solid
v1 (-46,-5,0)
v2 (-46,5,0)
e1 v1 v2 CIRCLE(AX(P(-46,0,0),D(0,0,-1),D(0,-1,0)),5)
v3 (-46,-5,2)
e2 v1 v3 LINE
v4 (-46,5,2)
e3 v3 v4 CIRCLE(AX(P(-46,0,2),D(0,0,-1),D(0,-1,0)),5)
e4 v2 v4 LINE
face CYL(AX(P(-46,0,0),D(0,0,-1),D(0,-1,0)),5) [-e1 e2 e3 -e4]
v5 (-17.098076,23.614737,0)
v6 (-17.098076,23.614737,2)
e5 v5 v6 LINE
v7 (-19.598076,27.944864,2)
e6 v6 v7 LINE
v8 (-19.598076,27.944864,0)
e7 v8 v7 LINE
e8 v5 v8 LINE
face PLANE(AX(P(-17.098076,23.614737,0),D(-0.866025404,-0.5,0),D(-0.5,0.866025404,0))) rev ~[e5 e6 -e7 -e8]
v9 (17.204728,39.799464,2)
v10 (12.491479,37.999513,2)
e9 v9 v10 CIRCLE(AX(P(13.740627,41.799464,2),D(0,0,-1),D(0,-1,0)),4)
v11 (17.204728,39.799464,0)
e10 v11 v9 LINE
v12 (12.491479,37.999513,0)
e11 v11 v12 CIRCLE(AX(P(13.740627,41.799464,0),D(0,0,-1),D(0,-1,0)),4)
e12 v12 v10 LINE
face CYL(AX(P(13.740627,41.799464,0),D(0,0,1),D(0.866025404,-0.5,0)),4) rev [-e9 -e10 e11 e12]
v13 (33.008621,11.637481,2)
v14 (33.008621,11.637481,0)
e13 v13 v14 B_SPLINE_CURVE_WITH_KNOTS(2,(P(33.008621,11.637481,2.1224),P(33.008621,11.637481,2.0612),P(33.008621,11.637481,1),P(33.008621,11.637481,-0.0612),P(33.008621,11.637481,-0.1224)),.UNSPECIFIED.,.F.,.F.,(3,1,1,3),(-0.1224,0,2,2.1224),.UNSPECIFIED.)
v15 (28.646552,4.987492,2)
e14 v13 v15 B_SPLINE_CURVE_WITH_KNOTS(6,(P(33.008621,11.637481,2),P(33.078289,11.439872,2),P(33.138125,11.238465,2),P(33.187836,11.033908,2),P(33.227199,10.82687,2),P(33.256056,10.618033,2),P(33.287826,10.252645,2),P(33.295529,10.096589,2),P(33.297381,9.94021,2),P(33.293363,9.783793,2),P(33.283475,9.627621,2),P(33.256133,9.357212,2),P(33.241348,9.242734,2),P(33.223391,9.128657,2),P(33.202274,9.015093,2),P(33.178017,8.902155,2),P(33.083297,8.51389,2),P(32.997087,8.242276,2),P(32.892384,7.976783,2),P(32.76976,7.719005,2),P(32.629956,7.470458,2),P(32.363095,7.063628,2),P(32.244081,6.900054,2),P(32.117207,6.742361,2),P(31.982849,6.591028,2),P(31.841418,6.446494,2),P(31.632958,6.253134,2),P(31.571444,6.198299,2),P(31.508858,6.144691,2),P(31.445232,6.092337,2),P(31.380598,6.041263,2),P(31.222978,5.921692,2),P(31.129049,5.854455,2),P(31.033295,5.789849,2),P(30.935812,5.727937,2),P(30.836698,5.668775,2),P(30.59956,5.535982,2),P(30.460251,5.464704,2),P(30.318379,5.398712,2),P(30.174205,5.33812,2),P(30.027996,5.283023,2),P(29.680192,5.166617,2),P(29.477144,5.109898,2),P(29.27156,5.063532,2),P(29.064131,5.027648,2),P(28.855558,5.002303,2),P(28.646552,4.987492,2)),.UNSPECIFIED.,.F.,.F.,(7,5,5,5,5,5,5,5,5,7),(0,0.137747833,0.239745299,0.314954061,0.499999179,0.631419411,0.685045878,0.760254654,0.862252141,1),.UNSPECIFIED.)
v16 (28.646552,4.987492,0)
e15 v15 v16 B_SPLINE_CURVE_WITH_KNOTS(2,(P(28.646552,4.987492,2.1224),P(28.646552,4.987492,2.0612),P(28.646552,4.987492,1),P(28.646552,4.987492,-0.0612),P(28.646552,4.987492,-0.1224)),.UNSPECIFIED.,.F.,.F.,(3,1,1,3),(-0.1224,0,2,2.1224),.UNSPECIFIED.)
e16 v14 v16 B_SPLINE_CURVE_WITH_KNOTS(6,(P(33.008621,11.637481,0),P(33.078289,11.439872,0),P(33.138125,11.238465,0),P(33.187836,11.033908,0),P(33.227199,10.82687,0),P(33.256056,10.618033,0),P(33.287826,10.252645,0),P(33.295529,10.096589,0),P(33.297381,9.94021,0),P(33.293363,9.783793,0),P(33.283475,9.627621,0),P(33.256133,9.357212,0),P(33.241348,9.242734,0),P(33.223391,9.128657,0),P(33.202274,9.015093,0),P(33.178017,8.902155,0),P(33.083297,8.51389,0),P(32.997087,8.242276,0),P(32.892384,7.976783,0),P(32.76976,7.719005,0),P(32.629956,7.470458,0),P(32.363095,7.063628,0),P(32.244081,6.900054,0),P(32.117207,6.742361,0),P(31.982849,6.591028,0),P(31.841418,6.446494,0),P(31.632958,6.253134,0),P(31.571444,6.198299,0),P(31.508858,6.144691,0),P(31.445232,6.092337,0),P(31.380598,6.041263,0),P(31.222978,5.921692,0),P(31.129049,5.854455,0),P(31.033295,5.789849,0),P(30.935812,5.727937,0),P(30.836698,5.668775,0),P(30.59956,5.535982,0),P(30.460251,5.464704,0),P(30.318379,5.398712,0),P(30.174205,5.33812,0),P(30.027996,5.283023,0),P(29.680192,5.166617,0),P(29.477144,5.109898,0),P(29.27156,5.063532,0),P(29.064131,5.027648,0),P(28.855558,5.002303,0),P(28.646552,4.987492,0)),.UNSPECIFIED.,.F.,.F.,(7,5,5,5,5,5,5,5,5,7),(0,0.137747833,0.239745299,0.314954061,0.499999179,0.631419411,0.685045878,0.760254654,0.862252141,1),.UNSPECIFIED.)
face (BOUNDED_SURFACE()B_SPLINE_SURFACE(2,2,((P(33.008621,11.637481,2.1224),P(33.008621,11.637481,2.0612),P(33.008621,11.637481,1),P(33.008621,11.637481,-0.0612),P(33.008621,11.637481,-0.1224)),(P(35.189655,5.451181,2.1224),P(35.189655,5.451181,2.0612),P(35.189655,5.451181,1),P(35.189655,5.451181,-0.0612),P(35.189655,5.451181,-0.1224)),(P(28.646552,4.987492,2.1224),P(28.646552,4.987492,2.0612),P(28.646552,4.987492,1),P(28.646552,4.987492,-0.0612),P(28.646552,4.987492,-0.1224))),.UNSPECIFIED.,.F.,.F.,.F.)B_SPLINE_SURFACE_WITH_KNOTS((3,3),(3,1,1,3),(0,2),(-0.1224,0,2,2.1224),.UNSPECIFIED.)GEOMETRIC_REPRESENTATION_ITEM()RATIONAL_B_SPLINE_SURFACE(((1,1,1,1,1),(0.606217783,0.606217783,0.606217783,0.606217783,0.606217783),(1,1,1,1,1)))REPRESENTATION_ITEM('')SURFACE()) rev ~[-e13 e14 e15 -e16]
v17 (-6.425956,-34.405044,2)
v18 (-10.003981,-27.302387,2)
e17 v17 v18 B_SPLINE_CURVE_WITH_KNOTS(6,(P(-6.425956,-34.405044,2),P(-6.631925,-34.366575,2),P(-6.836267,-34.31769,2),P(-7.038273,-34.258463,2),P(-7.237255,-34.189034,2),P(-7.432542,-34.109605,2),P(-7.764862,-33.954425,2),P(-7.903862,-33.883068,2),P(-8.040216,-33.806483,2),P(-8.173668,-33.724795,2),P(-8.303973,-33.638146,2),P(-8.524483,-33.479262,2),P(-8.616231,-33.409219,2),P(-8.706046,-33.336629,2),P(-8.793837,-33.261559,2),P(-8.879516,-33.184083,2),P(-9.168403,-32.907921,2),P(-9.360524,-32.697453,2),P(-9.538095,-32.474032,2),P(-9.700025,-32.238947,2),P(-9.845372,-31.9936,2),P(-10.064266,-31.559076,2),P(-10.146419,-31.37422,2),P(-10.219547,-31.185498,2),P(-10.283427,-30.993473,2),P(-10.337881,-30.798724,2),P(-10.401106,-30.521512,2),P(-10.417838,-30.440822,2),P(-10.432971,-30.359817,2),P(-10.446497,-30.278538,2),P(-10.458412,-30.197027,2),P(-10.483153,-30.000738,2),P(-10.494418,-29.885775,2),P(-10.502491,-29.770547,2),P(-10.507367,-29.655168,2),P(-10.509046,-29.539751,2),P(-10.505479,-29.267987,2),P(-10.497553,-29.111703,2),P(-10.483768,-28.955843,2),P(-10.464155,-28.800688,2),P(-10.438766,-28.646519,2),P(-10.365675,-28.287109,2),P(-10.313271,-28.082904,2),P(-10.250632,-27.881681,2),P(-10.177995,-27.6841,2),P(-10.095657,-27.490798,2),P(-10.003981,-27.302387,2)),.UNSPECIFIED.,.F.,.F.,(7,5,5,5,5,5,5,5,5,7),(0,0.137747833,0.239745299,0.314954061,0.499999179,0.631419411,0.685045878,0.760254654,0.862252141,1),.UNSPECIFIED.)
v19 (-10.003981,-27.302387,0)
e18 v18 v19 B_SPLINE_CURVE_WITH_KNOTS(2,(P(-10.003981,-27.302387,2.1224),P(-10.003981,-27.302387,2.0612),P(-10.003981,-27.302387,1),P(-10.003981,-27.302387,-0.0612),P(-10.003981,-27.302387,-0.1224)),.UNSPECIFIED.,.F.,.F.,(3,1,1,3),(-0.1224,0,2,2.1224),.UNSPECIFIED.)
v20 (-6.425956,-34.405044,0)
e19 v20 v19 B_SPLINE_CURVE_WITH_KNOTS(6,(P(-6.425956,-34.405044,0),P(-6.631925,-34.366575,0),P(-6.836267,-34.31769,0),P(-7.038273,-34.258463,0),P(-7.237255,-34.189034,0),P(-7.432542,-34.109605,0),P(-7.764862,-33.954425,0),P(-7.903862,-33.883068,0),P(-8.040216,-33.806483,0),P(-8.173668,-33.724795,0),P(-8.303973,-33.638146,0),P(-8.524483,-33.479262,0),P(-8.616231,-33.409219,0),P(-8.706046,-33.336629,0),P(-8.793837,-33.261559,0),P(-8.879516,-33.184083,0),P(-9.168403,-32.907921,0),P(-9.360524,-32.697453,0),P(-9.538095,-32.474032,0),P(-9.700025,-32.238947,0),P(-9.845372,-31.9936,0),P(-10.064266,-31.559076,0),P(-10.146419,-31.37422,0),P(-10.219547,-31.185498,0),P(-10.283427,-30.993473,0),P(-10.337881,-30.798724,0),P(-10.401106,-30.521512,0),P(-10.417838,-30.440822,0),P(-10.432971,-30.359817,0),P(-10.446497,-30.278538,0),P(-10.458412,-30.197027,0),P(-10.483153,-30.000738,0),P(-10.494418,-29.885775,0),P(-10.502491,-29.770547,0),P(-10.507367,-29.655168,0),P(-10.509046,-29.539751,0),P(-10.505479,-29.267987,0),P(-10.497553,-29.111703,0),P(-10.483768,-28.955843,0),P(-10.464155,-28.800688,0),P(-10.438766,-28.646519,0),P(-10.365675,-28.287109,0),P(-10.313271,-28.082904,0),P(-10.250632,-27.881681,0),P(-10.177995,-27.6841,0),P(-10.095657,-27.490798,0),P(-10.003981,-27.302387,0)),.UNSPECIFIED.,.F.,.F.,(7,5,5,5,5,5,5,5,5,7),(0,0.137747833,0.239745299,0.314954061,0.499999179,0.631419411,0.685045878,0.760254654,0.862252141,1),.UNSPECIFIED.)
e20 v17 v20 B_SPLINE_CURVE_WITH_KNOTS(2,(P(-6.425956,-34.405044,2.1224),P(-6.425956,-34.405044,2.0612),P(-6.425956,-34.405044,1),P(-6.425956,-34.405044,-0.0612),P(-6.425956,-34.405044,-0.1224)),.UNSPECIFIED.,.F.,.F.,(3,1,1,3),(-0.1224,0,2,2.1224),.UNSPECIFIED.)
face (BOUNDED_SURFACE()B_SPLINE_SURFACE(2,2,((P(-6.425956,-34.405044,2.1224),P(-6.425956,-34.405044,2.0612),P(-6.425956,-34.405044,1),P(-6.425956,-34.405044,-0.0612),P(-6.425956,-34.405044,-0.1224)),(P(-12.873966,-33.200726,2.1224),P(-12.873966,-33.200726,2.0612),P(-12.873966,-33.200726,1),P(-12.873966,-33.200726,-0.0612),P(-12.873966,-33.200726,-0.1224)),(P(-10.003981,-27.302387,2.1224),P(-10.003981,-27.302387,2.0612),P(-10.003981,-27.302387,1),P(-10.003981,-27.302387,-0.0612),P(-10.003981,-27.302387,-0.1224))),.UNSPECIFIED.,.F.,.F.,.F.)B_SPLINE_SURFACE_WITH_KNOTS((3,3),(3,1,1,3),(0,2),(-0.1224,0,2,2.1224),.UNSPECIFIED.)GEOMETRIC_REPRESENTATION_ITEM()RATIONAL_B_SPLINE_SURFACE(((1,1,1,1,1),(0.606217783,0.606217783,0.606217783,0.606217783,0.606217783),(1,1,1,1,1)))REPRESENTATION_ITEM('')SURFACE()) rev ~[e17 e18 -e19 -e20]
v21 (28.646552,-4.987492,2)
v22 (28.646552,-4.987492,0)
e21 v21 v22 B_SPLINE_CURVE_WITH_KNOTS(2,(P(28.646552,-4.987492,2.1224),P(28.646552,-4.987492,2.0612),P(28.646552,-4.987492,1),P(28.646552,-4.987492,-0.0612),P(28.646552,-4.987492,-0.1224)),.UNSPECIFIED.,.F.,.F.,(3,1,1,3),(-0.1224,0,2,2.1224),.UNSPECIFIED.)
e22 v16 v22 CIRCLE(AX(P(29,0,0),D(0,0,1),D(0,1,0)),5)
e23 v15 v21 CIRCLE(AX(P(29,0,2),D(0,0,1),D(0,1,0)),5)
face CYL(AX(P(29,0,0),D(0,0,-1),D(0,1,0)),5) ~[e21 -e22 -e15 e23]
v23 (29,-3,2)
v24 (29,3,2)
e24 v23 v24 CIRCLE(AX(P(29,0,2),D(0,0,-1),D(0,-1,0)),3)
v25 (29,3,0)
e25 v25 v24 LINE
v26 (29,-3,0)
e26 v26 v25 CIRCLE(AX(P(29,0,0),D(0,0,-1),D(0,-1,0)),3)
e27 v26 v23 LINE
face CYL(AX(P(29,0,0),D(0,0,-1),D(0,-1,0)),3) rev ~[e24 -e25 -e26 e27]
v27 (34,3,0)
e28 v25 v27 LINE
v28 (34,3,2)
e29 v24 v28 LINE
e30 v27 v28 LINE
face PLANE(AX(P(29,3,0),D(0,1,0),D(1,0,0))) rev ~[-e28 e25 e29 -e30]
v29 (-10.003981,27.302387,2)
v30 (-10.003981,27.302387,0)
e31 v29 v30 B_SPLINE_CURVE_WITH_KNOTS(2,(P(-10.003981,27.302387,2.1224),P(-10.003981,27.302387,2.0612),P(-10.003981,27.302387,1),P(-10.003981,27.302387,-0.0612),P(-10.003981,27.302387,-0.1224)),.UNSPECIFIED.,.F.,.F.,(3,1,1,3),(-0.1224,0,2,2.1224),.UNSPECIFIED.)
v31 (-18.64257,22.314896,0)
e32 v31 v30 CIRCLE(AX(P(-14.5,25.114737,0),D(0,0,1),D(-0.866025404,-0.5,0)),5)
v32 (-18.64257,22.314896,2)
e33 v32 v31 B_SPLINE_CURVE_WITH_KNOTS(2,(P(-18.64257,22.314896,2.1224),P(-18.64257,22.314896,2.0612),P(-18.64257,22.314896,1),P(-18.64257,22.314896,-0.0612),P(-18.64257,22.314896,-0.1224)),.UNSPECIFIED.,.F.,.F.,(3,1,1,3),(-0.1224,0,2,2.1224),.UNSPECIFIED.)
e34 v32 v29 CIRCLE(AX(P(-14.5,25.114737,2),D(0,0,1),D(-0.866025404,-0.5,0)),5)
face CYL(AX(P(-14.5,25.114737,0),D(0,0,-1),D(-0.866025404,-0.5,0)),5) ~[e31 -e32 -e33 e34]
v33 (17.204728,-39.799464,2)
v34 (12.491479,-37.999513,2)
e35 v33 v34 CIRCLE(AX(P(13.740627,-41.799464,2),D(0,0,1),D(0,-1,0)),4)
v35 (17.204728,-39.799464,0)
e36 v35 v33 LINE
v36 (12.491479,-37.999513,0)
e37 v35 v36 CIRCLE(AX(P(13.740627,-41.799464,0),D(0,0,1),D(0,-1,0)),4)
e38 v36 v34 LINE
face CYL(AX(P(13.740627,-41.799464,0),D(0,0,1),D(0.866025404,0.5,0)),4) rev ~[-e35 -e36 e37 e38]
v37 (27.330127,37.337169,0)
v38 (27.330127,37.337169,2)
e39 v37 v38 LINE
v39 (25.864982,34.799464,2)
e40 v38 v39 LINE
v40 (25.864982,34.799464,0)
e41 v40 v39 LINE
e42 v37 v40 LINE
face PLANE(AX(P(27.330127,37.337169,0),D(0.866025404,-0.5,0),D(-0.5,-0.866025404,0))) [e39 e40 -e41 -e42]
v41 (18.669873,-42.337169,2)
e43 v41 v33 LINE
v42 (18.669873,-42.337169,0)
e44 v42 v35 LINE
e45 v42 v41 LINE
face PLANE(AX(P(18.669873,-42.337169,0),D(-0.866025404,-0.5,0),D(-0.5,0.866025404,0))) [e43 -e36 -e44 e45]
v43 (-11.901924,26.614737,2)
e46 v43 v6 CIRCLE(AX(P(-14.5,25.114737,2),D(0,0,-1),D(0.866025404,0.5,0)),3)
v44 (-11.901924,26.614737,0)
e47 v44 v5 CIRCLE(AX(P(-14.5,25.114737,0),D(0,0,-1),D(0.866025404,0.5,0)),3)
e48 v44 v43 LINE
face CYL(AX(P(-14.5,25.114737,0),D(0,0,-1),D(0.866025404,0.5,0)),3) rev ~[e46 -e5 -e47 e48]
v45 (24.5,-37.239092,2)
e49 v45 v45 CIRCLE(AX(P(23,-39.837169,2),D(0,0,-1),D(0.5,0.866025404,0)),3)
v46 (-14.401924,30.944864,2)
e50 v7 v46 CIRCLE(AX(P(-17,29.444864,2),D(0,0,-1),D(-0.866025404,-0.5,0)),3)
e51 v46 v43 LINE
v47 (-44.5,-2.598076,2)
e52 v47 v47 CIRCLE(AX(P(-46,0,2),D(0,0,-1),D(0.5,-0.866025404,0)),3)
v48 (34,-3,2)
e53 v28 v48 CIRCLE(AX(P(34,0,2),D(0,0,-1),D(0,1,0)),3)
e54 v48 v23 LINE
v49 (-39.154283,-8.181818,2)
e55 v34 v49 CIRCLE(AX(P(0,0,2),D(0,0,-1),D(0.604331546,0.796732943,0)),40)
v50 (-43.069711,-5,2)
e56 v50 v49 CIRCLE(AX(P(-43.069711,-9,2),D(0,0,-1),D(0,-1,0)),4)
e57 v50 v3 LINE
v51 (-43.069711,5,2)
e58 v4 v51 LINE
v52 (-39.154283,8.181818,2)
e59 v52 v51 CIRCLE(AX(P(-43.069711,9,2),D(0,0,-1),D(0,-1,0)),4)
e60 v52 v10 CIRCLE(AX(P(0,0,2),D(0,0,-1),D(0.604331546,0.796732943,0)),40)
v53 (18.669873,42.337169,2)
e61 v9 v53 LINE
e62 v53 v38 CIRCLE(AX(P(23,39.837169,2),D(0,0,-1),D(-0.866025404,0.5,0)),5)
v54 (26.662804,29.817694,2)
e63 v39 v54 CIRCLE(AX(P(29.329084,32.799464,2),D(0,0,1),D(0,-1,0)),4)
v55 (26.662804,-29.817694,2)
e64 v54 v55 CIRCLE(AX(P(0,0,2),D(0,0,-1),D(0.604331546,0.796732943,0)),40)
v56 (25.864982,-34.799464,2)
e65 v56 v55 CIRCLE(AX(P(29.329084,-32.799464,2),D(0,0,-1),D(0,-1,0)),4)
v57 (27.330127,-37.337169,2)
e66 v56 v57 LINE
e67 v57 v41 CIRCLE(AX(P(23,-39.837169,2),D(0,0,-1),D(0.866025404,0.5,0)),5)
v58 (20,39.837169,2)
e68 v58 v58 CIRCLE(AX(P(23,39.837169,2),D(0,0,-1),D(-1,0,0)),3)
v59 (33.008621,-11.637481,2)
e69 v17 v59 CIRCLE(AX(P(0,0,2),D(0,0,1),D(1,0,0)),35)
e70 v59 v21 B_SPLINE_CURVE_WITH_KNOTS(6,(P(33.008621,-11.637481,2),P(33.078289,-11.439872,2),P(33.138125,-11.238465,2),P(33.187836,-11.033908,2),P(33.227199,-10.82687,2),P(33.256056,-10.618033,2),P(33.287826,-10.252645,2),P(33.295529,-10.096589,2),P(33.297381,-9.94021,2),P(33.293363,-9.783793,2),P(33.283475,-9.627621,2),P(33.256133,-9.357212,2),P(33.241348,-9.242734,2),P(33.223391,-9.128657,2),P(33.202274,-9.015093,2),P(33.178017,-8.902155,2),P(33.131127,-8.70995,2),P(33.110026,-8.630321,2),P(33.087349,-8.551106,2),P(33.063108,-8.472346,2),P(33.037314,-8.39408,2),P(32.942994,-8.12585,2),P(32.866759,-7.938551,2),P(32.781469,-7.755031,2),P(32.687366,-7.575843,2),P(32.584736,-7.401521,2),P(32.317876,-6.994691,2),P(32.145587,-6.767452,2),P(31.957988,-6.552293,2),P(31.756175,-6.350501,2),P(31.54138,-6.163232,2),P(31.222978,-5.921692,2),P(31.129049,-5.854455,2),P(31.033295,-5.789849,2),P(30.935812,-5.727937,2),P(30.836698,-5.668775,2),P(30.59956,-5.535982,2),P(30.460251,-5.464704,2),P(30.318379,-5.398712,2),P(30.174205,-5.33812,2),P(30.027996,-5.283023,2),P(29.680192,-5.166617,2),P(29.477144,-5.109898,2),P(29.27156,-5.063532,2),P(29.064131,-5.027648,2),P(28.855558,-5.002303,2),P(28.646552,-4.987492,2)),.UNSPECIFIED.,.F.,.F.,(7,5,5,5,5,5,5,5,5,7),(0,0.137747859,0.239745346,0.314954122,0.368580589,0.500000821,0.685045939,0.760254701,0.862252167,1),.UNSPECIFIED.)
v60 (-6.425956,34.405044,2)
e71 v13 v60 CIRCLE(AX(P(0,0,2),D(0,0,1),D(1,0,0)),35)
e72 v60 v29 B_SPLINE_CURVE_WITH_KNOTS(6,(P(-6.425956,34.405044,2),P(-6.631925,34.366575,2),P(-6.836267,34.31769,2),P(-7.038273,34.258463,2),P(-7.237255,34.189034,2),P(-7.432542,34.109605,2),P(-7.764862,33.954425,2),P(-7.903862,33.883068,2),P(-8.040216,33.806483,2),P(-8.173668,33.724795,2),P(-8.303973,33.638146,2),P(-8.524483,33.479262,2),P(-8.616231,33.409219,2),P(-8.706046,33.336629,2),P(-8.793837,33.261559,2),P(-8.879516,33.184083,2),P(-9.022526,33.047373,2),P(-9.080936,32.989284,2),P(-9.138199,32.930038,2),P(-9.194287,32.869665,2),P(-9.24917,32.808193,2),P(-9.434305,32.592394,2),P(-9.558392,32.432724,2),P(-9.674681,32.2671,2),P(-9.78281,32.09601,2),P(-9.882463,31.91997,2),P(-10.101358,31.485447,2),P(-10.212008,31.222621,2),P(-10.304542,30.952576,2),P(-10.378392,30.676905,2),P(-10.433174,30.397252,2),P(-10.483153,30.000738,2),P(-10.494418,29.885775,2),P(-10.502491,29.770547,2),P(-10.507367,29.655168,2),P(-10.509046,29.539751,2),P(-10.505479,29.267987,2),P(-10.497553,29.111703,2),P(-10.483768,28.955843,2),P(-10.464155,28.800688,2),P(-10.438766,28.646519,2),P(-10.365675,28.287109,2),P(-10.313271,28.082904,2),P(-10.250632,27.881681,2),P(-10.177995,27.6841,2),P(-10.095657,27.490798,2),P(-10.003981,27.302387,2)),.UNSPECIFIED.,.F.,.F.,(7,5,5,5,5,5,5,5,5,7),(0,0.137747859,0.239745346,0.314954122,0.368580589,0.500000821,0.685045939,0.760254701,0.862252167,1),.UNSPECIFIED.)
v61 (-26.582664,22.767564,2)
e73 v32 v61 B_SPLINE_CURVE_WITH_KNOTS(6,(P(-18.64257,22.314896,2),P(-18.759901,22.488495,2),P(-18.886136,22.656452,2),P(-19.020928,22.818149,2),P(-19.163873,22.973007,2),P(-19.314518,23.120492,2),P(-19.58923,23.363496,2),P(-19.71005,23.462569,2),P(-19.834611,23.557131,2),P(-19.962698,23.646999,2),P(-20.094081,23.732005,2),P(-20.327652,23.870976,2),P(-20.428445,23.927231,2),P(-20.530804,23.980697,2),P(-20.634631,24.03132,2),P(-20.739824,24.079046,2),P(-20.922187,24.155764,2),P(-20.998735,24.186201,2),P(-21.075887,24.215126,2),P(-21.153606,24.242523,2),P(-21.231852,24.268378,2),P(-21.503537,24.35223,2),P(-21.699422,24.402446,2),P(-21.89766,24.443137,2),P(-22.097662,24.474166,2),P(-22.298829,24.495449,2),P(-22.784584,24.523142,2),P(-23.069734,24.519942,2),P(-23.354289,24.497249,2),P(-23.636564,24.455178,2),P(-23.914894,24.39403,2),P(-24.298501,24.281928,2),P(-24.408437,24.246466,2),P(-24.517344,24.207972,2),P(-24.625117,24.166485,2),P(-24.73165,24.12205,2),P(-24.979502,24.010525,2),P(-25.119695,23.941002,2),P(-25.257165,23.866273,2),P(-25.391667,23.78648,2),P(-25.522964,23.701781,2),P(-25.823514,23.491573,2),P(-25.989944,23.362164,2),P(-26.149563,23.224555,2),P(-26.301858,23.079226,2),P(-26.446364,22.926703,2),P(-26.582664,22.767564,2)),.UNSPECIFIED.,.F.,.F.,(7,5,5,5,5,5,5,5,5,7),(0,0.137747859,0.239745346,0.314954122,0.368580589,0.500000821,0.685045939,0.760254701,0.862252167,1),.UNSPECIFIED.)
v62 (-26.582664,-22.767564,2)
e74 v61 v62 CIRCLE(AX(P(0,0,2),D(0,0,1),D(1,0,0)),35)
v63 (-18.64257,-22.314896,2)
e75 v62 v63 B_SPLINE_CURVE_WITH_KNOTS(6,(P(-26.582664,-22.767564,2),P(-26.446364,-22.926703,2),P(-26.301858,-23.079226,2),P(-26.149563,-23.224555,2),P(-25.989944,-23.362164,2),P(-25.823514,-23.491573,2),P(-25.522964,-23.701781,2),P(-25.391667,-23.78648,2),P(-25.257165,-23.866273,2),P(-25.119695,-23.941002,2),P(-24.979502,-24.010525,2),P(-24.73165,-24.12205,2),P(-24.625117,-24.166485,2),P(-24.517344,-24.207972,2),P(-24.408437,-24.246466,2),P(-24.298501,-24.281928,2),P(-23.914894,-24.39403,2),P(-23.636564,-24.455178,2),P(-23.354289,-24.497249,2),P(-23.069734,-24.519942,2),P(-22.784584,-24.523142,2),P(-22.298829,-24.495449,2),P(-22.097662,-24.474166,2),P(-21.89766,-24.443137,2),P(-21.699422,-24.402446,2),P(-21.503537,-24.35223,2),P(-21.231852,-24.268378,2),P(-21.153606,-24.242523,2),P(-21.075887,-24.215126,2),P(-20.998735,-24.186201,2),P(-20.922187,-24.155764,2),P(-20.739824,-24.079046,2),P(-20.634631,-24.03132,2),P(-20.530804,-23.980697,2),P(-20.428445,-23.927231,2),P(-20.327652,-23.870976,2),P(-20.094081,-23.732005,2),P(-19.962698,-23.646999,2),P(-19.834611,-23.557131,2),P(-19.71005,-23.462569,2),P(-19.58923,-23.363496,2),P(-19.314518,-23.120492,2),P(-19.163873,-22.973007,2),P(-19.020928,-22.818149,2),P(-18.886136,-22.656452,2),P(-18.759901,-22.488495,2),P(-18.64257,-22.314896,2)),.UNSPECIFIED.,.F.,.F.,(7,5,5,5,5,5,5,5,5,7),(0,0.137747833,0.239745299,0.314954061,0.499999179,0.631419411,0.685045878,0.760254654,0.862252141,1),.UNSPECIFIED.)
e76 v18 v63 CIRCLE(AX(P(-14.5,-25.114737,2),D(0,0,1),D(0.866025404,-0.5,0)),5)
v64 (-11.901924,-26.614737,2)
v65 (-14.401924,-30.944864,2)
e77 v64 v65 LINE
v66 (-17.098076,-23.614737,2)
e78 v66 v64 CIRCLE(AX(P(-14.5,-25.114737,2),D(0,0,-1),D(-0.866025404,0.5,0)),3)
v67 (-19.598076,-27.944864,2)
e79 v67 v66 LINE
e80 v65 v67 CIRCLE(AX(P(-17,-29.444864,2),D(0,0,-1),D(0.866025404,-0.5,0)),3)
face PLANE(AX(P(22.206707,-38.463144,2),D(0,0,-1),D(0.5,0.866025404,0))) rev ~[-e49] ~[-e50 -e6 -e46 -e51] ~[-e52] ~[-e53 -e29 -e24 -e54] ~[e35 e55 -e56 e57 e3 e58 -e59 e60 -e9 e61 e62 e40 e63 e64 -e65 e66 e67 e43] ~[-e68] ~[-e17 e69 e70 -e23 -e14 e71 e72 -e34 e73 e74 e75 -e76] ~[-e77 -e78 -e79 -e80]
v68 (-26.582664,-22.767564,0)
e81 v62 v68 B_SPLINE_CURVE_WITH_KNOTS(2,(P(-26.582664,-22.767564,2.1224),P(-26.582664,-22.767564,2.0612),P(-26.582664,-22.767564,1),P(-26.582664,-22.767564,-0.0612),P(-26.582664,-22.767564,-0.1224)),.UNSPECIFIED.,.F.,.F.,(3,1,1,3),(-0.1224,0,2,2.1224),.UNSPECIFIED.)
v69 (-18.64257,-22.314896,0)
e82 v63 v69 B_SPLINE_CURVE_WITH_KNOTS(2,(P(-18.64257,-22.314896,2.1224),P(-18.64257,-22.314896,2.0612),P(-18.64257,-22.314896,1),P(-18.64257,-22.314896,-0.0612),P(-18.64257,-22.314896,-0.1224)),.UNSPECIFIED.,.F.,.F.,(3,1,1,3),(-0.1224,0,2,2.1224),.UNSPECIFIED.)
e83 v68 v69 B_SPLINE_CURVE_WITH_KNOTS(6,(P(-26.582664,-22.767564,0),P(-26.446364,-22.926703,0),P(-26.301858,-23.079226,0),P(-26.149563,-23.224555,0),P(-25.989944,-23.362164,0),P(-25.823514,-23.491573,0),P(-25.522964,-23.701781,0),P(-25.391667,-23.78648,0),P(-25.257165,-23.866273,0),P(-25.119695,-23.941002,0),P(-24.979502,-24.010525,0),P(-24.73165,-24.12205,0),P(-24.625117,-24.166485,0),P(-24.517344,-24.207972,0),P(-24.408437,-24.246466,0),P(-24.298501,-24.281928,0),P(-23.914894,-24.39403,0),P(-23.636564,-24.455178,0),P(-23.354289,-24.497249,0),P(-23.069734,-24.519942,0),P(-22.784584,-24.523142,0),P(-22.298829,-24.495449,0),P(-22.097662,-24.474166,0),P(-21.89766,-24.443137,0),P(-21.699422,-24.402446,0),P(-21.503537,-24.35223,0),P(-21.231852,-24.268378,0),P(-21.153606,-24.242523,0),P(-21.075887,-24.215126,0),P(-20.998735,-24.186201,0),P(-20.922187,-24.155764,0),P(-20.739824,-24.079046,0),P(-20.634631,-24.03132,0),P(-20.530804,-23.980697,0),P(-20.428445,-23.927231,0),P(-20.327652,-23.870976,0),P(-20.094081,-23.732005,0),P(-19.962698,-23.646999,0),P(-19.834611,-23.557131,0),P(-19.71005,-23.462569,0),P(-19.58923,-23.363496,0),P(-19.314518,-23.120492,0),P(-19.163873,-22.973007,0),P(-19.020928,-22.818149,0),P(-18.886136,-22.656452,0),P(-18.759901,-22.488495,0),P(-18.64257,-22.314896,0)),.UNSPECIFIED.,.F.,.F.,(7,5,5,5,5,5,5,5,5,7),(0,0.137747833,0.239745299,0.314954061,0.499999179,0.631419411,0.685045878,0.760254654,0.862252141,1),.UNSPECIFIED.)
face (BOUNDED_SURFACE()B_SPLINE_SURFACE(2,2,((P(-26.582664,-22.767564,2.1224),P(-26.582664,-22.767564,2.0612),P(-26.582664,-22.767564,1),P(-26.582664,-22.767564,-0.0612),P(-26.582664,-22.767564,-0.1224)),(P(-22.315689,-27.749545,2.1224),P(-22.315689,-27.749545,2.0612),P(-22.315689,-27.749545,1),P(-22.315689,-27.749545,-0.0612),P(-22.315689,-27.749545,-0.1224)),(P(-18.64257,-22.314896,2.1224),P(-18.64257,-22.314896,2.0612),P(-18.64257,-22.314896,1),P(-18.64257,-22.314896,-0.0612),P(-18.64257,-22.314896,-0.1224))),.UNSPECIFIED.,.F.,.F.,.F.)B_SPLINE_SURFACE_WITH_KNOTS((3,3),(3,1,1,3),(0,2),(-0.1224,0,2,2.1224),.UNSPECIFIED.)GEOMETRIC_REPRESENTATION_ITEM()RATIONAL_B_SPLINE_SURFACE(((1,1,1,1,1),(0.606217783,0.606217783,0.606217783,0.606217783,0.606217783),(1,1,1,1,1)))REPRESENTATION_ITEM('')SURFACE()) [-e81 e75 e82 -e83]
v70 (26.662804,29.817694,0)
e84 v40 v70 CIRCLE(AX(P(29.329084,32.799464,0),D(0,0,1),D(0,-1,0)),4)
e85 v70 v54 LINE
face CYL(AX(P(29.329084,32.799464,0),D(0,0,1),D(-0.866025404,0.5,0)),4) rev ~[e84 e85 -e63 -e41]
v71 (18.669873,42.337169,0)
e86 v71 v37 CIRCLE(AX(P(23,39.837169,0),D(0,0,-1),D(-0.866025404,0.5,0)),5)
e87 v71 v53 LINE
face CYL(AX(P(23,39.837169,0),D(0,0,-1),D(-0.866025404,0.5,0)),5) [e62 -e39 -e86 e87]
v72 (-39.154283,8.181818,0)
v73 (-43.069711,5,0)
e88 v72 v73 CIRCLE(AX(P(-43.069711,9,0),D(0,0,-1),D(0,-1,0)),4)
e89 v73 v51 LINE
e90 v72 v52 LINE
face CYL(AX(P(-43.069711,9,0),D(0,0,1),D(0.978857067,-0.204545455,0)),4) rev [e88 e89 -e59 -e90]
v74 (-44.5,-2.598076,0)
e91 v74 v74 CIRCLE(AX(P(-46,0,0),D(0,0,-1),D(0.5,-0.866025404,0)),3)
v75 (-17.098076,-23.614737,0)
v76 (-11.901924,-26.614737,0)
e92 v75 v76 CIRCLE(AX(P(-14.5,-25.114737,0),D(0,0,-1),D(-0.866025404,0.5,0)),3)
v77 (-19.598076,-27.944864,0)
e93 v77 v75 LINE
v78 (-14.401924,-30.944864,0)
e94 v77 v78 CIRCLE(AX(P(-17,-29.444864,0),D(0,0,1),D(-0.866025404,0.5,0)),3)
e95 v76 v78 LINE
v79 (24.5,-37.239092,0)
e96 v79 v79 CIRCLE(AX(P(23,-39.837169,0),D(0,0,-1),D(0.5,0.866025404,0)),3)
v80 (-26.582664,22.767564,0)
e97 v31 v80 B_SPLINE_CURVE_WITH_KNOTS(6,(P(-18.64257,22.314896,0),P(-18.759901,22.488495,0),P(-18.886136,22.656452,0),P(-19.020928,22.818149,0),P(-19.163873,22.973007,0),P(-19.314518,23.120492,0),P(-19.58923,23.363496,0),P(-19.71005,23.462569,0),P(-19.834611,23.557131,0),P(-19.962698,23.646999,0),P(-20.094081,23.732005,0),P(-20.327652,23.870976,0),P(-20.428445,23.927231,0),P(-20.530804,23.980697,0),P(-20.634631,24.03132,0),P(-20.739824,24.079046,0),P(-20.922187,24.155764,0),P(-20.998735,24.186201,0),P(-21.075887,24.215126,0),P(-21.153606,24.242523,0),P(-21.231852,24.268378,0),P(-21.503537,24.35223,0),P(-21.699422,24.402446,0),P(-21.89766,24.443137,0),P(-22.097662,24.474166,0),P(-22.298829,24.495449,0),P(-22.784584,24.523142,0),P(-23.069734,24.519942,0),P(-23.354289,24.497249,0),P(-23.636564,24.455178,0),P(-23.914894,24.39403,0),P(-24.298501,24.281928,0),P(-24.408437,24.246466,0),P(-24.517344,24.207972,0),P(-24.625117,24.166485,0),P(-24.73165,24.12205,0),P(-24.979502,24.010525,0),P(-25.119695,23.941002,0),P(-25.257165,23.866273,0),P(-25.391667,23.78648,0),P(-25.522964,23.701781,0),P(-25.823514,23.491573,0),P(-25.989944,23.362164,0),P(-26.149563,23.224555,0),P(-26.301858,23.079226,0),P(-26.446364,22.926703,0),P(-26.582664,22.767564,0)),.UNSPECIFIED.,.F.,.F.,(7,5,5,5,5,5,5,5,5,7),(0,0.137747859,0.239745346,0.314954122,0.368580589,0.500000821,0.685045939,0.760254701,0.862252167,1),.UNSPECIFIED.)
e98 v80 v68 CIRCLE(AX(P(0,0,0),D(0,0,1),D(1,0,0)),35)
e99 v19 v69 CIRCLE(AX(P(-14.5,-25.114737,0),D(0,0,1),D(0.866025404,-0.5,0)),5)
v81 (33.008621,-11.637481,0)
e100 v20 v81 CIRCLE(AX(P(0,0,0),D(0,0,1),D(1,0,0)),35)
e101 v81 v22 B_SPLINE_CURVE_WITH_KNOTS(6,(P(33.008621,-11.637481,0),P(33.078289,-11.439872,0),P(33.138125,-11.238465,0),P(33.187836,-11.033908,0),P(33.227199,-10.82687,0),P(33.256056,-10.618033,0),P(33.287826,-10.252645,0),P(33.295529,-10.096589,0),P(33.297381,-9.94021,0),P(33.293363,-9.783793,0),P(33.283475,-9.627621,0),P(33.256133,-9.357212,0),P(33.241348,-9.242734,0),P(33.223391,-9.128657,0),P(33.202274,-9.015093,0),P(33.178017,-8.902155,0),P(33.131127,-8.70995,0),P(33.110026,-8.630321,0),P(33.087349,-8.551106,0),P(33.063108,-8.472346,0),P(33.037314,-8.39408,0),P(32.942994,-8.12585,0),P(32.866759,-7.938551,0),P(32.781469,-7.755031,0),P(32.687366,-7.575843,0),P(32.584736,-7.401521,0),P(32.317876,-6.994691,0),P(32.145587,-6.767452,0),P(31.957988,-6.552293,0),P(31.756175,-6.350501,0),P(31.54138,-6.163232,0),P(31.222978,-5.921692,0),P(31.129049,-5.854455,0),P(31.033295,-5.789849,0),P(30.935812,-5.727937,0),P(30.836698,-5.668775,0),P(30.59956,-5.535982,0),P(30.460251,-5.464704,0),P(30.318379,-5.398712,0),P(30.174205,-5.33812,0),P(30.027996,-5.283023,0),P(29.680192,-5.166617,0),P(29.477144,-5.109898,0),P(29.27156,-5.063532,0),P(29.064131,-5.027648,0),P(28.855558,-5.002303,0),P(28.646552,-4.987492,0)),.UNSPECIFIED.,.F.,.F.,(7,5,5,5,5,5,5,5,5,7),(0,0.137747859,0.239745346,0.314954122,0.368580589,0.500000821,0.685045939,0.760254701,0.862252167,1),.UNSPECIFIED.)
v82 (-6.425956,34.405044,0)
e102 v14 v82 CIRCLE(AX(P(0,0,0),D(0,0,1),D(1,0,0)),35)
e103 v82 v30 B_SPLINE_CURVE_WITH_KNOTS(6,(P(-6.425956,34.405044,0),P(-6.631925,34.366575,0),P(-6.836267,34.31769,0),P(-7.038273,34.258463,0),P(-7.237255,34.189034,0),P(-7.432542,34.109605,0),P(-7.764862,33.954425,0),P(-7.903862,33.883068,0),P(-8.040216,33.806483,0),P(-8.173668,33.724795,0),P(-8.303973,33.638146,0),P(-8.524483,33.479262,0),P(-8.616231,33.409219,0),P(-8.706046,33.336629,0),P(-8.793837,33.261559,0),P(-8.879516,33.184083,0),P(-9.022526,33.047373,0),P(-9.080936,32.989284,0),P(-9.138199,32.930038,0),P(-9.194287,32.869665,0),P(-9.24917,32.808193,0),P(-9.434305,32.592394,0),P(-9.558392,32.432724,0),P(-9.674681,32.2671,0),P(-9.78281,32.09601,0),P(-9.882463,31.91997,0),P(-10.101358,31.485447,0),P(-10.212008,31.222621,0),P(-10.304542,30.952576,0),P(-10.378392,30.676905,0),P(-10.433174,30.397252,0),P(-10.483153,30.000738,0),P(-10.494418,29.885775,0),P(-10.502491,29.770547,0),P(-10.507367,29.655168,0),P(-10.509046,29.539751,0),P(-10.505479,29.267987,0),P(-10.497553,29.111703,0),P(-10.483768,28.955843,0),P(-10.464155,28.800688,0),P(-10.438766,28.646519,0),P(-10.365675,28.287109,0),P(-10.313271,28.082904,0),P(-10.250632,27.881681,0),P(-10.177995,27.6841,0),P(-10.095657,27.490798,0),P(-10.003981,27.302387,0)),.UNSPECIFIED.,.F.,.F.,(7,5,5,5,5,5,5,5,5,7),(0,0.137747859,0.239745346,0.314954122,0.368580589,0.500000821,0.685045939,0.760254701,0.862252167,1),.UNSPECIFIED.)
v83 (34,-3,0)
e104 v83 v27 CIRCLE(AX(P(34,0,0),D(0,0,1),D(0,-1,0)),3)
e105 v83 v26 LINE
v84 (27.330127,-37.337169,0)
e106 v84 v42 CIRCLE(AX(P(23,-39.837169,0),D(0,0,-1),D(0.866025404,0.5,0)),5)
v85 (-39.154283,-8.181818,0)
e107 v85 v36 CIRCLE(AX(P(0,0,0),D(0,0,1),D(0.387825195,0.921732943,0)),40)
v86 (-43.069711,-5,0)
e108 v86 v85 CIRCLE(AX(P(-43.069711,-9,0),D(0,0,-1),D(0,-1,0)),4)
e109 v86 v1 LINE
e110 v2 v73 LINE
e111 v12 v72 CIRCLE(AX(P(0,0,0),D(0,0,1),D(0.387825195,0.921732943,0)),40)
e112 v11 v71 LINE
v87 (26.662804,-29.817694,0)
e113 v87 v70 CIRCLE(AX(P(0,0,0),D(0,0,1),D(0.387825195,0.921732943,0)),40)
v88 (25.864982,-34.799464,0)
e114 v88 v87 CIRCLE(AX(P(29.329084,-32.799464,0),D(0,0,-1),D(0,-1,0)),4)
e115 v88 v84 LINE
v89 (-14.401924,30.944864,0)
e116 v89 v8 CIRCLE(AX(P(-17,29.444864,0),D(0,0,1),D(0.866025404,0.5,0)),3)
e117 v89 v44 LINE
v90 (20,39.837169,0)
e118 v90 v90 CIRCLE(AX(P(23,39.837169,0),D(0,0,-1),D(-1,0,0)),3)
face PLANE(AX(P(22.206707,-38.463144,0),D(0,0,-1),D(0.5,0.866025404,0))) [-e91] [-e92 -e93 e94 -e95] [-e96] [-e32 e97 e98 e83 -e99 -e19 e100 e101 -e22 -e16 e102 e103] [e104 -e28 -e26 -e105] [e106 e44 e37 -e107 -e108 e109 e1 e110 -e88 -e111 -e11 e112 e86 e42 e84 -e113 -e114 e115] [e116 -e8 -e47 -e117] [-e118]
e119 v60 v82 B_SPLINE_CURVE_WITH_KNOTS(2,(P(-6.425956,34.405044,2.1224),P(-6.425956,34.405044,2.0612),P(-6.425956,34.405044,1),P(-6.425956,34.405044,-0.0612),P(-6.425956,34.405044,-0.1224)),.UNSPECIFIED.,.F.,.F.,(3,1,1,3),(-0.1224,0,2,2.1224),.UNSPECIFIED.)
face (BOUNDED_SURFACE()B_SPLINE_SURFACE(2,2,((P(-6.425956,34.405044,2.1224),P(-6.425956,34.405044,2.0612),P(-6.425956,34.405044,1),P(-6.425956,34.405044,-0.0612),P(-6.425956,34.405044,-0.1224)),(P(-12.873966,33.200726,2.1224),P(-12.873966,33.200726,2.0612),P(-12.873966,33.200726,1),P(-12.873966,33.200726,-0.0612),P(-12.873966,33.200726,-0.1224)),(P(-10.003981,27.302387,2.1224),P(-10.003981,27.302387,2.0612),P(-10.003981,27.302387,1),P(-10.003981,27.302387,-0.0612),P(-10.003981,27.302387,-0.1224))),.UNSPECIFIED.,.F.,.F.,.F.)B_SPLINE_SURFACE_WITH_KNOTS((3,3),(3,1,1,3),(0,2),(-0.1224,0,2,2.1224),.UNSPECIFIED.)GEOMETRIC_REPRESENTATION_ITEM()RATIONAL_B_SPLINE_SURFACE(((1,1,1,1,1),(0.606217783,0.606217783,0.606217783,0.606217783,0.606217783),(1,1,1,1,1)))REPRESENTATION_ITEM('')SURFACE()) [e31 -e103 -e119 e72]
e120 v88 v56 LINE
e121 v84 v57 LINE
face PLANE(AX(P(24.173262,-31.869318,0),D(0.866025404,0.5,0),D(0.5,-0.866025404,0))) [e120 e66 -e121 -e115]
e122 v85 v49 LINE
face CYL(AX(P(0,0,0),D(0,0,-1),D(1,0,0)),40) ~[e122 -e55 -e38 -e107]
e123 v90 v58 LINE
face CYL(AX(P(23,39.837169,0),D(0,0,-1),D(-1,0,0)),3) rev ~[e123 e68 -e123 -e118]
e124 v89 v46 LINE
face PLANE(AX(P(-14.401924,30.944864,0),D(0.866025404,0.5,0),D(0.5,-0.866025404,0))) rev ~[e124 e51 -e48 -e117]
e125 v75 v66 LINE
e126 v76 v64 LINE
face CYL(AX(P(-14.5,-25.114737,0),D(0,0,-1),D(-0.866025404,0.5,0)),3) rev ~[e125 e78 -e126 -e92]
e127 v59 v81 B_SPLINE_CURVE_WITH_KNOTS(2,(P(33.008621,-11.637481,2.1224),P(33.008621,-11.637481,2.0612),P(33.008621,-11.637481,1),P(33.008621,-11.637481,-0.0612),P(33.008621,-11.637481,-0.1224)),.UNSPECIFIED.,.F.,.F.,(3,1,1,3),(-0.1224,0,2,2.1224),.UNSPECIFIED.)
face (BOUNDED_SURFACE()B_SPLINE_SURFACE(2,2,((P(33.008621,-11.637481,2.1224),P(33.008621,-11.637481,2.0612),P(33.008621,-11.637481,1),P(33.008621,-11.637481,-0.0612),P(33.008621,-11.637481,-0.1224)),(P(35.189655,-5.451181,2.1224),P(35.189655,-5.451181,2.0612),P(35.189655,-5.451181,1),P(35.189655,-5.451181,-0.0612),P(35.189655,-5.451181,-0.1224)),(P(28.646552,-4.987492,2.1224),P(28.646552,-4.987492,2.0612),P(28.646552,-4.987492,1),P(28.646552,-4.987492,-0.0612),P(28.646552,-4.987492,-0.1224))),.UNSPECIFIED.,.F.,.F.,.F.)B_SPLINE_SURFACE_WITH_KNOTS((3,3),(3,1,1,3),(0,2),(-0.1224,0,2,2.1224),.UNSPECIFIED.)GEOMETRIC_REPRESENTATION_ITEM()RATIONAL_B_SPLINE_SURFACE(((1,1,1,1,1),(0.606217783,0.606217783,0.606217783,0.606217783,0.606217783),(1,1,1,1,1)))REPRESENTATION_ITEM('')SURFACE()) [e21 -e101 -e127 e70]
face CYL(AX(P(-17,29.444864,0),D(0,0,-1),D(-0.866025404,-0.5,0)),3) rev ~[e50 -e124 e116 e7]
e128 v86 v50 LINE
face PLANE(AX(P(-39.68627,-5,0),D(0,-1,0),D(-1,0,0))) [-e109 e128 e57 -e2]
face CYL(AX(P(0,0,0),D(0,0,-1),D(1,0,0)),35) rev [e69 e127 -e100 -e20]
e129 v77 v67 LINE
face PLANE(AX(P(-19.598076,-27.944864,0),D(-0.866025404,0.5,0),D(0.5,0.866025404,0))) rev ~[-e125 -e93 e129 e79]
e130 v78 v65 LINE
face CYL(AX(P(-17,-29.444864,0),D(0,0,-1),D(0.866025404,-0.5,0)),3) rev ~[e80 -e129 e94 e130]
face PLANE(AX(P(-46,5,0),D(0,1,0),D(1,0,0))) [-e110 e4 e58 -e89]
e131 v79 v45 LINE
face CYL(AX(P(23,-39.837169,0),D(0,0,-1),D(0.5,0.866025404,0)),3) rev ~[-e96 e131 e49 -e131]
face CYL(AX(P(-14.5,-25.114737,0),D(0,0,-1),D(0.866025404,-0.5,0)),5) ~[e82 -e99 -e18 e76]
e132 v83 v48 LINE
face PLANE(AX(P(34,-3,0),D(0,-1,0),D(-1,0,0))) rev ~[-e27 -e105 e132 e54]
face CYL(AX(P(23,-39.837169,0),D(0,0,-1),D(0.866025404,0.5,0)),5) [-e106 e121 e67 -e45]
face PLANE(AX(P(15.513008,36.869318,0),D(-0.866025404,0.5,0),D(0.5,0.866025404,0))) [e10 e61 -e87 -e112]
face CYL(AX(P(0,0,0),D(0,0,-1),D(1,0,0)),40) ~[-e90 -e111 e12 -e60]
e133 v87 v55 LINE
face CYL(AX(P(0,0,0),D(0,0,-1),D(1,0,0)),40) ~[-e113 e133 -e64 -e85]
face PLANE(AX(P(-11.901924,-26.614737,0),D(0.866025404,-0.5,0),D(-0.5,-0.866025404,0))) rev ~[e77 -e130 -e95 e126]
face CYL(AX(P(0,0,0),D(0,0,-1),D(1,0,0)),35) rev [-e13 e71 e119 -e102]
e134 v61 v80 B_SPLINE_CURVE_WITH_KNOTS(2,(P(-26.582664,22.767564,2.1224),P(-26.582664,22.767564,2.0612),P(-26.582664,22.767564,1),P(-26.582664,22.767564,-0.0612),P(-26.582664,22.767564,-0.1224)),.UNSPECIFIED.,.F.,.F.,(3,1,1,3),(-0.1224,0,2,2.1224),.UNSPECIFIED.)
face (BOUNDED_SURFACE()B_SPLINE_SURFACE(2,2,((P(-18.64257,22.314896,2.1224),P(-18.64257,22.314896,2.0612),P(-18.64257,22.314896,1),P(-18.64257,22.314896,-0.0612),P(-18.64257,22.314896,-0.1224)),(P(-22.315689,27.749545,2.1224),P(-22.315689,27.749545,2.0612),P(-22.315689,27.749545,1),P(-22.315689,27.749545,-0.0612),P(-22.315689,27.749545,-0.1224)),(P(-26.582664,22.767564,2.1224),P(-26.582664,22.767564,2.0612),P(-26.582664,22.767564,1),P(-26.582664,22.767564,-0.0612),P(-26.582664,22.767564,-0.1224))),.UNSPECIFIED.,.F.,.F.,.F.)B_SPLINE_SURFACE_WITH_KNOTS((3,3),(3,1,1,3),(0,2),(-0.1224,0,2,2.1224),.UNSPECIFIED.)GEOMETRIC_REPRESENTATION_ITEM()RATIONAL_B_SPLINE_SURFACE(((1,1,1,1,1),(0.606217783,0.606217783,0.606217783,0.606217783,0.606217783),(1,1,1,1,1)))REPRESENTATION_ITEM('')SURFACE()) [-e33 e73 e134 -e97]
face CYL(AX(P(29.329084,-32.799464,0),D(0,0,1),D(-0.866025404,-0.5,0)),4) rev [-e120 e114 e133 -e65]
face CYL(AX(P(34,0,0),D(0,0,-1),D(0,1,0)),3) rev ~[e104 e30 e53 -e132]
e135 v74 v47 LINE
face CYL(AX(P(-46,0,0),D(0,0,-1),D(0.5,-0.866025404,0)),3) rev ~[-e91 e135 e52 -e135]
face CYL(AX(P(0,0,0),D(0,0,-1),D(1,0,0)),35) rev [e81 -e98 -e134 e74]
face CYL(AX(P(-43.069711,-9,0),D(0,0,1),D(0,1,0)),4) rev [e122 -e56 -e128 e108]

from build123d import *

# Parameters (mm, degrees)
SKETCH1_R                = 40
SKETCH1_R_2              = 35
BOSS_EXTRUDE1_DEPTH      = 2
BOSS_EXTRUDE2_DEPTH      = 2
SKETCH3_R                = 3
CUT_EXTRUDE1_DEPTH       = 2
FILLET1_R                = 5
CIRPATTERN1_COUNT        = 3
FILLET1_OF_CIRPATTERN1_R = 5
SKETCH4_R                = 3
BOSS_EXTRUDE3_DEPTH      = 2
FILLET2_R                = 4
CIRPATTERN2_COUNT        = 3
FILLET2_OF_CIRPATTERN2_R = 4


with BuildPart() as part:
    # Sketch1 → Boss-Extrude1 (new body)
    with BuildSketch(Plane.XY):
        Circle(SKETCH1_R)
        Circle(SKETCH1_R_2, mode=Mode.SUBTRACT)
    extrude(amount=BOSS_EXTRUDE1_DEPTH)

    # Sketch2 → Boss-Extrude2 (add)
    with BuildSketch(Plane(origin=(0, 0, 0), x_dir=(-1, 0, 0), z_dir=(0, 0, -1))):
        with BuildLine():
            Line((-29, -5), (-34.641016151, -5))
            Line((-34.641016151, -5), (-37, -5))
            Line((-37, -5), (-37, 5))
            Line((-37, 5), (-34.641016151, 5))
            Line((-34.641016151, 5), (-29, 5))
            ThreePointArc((-29, 5), (-24, 0), (-29, -5))
        make_face()
        with BuildLine():
            Line((-34, -3), (-29, -3))
            ThreePointArc((-29, -3), (-26, 0), (-29, 3))
            Line((-29, 3), (-34, 3))
            ThreePointArc((-34, 3), (-37, 0), (-34, -3))
        make_face(mode=Mode.SUBTRACT)
    boss_extrude2 = extrude(amount=-BOSS_EXTRUDE2_DEPTH)

    # Sketch3 → Cut-Extrude1 (cut)
    with BuildSketch(Plane(origin=(0, 0, 0), x_dir=(-1, 0, 0), z_dir=(0, 0, -1))):
        with Locations((-34, 0)):
            Circle(SKETCH3_R)
    cut_extrude1 = extrude(amount=-CUT_EXTRUDE1_DEPTH, mode=Mode.SUBTRACT)

    # Fillet1
    fillet1_edges = [part.edges().sort_by_distance(p)[0] for p in [
        (34.641016151, -5, 1),
        (34.641016151, 5, 1),
    ]]
    fillet(fillet1_edges, radius=FILLET1_R)

    # CirPattern1: Boss-Extrude2, Cut-Extrude1 ×3 about axis
    cirpattern1_axis = Axis((0, 0, 0), (0, 0, 1))
    for i in range(1, CIRPATTERN1_COUNT):
        add(boss_extrude2.rotate(cirpattern1_axis, i * 360 / CIRPATTERN1_COUNT))
        add(cut_extrude1.rotate(cirpattern1_axis, i * 360 / CIRPATTERN1_COUNT), mode=Mode.SUBTRACT)

    # Fillet1 of CirPattern1
    fillet1_of_cirpattern1_edges = [part.edges().sort_by_distance(p)[0] for p in [
        (-12.990381057, 32.5, 1),
        (-21.650635095, 27.5, 1),
        (-21.650635095, -27.5, 1),
        (-12.990381057, -32.5, 1),
    ]]
    fillet(fillet1_of_cirpattern1_edges, radius=FILLET1_OF_CIRPATTERN1_R)

    # Sketch4 → Boss-Extrude3 (add)
    with BuildSketch(Plane(origin=(0, 0, 0), x_dir=(-1, 0, 0), z_dir=(0, 0, -1))):
        with BuildLine():
            Line((-15.513007814, 36.869317712), (-18.669872981, 42.337168574))
            ThreePointArc((-18.669872981, 42.337168574), (-25.5, 44.167295593), (-27.330127019, 37.337168574))
            Line((-27.330127019, 37.337168574), (-24.173261852, 31.869317712))
            Line((-24.173261852, 31.869317712), (-15.513007814, 36.869317712))
        make_face()
        with Locations((-23, 39.837168574)):
            Circle(SKETCH4_R, mode=Mode.SUBTRACT)
    boss_extrude3 = extrude(amount=-BOSS_EXTRUDE3_DEPTH)

    # Fillet2
    fillet2_edges = [part.edges().sort_by_distance(p)[0] for p in [
        (15.513007814, 36.869317712, 1),
        (24.173261852, 31.869317712, 1),
    ]]
    fillet(fillet2_edges, radius=FILLET2_R)

    # CirPattern2: Boss-Extrude3 ×3 about axis
    cirpattern2_axis = Axis((0, 0, 0), (0, 0, 1))
    for i in range(1, CIRPATTERN2_COUNT):
        add(boss_extrude3.rotate(cirpattern2_axis, i * 360 / CIRPATTERN2_COUNT))

    # Fillet2 of CirPattern2
    fillet2_of_cirpattern2_edges = [part.edges().sort_by_distance(p)[0] for p in [
        (-39.686269666, -5, 1),
        (-39.686269666, 5, 1),
        (24.173261852, -31.869317712, 1),
        (15.513007814, -36.869317712, 1),
    ]]
    fillet(fillet2_of_cirpattern2_edges, radius=FILLET2_OF_CIRPATTERN2_R)


solid = part.part
